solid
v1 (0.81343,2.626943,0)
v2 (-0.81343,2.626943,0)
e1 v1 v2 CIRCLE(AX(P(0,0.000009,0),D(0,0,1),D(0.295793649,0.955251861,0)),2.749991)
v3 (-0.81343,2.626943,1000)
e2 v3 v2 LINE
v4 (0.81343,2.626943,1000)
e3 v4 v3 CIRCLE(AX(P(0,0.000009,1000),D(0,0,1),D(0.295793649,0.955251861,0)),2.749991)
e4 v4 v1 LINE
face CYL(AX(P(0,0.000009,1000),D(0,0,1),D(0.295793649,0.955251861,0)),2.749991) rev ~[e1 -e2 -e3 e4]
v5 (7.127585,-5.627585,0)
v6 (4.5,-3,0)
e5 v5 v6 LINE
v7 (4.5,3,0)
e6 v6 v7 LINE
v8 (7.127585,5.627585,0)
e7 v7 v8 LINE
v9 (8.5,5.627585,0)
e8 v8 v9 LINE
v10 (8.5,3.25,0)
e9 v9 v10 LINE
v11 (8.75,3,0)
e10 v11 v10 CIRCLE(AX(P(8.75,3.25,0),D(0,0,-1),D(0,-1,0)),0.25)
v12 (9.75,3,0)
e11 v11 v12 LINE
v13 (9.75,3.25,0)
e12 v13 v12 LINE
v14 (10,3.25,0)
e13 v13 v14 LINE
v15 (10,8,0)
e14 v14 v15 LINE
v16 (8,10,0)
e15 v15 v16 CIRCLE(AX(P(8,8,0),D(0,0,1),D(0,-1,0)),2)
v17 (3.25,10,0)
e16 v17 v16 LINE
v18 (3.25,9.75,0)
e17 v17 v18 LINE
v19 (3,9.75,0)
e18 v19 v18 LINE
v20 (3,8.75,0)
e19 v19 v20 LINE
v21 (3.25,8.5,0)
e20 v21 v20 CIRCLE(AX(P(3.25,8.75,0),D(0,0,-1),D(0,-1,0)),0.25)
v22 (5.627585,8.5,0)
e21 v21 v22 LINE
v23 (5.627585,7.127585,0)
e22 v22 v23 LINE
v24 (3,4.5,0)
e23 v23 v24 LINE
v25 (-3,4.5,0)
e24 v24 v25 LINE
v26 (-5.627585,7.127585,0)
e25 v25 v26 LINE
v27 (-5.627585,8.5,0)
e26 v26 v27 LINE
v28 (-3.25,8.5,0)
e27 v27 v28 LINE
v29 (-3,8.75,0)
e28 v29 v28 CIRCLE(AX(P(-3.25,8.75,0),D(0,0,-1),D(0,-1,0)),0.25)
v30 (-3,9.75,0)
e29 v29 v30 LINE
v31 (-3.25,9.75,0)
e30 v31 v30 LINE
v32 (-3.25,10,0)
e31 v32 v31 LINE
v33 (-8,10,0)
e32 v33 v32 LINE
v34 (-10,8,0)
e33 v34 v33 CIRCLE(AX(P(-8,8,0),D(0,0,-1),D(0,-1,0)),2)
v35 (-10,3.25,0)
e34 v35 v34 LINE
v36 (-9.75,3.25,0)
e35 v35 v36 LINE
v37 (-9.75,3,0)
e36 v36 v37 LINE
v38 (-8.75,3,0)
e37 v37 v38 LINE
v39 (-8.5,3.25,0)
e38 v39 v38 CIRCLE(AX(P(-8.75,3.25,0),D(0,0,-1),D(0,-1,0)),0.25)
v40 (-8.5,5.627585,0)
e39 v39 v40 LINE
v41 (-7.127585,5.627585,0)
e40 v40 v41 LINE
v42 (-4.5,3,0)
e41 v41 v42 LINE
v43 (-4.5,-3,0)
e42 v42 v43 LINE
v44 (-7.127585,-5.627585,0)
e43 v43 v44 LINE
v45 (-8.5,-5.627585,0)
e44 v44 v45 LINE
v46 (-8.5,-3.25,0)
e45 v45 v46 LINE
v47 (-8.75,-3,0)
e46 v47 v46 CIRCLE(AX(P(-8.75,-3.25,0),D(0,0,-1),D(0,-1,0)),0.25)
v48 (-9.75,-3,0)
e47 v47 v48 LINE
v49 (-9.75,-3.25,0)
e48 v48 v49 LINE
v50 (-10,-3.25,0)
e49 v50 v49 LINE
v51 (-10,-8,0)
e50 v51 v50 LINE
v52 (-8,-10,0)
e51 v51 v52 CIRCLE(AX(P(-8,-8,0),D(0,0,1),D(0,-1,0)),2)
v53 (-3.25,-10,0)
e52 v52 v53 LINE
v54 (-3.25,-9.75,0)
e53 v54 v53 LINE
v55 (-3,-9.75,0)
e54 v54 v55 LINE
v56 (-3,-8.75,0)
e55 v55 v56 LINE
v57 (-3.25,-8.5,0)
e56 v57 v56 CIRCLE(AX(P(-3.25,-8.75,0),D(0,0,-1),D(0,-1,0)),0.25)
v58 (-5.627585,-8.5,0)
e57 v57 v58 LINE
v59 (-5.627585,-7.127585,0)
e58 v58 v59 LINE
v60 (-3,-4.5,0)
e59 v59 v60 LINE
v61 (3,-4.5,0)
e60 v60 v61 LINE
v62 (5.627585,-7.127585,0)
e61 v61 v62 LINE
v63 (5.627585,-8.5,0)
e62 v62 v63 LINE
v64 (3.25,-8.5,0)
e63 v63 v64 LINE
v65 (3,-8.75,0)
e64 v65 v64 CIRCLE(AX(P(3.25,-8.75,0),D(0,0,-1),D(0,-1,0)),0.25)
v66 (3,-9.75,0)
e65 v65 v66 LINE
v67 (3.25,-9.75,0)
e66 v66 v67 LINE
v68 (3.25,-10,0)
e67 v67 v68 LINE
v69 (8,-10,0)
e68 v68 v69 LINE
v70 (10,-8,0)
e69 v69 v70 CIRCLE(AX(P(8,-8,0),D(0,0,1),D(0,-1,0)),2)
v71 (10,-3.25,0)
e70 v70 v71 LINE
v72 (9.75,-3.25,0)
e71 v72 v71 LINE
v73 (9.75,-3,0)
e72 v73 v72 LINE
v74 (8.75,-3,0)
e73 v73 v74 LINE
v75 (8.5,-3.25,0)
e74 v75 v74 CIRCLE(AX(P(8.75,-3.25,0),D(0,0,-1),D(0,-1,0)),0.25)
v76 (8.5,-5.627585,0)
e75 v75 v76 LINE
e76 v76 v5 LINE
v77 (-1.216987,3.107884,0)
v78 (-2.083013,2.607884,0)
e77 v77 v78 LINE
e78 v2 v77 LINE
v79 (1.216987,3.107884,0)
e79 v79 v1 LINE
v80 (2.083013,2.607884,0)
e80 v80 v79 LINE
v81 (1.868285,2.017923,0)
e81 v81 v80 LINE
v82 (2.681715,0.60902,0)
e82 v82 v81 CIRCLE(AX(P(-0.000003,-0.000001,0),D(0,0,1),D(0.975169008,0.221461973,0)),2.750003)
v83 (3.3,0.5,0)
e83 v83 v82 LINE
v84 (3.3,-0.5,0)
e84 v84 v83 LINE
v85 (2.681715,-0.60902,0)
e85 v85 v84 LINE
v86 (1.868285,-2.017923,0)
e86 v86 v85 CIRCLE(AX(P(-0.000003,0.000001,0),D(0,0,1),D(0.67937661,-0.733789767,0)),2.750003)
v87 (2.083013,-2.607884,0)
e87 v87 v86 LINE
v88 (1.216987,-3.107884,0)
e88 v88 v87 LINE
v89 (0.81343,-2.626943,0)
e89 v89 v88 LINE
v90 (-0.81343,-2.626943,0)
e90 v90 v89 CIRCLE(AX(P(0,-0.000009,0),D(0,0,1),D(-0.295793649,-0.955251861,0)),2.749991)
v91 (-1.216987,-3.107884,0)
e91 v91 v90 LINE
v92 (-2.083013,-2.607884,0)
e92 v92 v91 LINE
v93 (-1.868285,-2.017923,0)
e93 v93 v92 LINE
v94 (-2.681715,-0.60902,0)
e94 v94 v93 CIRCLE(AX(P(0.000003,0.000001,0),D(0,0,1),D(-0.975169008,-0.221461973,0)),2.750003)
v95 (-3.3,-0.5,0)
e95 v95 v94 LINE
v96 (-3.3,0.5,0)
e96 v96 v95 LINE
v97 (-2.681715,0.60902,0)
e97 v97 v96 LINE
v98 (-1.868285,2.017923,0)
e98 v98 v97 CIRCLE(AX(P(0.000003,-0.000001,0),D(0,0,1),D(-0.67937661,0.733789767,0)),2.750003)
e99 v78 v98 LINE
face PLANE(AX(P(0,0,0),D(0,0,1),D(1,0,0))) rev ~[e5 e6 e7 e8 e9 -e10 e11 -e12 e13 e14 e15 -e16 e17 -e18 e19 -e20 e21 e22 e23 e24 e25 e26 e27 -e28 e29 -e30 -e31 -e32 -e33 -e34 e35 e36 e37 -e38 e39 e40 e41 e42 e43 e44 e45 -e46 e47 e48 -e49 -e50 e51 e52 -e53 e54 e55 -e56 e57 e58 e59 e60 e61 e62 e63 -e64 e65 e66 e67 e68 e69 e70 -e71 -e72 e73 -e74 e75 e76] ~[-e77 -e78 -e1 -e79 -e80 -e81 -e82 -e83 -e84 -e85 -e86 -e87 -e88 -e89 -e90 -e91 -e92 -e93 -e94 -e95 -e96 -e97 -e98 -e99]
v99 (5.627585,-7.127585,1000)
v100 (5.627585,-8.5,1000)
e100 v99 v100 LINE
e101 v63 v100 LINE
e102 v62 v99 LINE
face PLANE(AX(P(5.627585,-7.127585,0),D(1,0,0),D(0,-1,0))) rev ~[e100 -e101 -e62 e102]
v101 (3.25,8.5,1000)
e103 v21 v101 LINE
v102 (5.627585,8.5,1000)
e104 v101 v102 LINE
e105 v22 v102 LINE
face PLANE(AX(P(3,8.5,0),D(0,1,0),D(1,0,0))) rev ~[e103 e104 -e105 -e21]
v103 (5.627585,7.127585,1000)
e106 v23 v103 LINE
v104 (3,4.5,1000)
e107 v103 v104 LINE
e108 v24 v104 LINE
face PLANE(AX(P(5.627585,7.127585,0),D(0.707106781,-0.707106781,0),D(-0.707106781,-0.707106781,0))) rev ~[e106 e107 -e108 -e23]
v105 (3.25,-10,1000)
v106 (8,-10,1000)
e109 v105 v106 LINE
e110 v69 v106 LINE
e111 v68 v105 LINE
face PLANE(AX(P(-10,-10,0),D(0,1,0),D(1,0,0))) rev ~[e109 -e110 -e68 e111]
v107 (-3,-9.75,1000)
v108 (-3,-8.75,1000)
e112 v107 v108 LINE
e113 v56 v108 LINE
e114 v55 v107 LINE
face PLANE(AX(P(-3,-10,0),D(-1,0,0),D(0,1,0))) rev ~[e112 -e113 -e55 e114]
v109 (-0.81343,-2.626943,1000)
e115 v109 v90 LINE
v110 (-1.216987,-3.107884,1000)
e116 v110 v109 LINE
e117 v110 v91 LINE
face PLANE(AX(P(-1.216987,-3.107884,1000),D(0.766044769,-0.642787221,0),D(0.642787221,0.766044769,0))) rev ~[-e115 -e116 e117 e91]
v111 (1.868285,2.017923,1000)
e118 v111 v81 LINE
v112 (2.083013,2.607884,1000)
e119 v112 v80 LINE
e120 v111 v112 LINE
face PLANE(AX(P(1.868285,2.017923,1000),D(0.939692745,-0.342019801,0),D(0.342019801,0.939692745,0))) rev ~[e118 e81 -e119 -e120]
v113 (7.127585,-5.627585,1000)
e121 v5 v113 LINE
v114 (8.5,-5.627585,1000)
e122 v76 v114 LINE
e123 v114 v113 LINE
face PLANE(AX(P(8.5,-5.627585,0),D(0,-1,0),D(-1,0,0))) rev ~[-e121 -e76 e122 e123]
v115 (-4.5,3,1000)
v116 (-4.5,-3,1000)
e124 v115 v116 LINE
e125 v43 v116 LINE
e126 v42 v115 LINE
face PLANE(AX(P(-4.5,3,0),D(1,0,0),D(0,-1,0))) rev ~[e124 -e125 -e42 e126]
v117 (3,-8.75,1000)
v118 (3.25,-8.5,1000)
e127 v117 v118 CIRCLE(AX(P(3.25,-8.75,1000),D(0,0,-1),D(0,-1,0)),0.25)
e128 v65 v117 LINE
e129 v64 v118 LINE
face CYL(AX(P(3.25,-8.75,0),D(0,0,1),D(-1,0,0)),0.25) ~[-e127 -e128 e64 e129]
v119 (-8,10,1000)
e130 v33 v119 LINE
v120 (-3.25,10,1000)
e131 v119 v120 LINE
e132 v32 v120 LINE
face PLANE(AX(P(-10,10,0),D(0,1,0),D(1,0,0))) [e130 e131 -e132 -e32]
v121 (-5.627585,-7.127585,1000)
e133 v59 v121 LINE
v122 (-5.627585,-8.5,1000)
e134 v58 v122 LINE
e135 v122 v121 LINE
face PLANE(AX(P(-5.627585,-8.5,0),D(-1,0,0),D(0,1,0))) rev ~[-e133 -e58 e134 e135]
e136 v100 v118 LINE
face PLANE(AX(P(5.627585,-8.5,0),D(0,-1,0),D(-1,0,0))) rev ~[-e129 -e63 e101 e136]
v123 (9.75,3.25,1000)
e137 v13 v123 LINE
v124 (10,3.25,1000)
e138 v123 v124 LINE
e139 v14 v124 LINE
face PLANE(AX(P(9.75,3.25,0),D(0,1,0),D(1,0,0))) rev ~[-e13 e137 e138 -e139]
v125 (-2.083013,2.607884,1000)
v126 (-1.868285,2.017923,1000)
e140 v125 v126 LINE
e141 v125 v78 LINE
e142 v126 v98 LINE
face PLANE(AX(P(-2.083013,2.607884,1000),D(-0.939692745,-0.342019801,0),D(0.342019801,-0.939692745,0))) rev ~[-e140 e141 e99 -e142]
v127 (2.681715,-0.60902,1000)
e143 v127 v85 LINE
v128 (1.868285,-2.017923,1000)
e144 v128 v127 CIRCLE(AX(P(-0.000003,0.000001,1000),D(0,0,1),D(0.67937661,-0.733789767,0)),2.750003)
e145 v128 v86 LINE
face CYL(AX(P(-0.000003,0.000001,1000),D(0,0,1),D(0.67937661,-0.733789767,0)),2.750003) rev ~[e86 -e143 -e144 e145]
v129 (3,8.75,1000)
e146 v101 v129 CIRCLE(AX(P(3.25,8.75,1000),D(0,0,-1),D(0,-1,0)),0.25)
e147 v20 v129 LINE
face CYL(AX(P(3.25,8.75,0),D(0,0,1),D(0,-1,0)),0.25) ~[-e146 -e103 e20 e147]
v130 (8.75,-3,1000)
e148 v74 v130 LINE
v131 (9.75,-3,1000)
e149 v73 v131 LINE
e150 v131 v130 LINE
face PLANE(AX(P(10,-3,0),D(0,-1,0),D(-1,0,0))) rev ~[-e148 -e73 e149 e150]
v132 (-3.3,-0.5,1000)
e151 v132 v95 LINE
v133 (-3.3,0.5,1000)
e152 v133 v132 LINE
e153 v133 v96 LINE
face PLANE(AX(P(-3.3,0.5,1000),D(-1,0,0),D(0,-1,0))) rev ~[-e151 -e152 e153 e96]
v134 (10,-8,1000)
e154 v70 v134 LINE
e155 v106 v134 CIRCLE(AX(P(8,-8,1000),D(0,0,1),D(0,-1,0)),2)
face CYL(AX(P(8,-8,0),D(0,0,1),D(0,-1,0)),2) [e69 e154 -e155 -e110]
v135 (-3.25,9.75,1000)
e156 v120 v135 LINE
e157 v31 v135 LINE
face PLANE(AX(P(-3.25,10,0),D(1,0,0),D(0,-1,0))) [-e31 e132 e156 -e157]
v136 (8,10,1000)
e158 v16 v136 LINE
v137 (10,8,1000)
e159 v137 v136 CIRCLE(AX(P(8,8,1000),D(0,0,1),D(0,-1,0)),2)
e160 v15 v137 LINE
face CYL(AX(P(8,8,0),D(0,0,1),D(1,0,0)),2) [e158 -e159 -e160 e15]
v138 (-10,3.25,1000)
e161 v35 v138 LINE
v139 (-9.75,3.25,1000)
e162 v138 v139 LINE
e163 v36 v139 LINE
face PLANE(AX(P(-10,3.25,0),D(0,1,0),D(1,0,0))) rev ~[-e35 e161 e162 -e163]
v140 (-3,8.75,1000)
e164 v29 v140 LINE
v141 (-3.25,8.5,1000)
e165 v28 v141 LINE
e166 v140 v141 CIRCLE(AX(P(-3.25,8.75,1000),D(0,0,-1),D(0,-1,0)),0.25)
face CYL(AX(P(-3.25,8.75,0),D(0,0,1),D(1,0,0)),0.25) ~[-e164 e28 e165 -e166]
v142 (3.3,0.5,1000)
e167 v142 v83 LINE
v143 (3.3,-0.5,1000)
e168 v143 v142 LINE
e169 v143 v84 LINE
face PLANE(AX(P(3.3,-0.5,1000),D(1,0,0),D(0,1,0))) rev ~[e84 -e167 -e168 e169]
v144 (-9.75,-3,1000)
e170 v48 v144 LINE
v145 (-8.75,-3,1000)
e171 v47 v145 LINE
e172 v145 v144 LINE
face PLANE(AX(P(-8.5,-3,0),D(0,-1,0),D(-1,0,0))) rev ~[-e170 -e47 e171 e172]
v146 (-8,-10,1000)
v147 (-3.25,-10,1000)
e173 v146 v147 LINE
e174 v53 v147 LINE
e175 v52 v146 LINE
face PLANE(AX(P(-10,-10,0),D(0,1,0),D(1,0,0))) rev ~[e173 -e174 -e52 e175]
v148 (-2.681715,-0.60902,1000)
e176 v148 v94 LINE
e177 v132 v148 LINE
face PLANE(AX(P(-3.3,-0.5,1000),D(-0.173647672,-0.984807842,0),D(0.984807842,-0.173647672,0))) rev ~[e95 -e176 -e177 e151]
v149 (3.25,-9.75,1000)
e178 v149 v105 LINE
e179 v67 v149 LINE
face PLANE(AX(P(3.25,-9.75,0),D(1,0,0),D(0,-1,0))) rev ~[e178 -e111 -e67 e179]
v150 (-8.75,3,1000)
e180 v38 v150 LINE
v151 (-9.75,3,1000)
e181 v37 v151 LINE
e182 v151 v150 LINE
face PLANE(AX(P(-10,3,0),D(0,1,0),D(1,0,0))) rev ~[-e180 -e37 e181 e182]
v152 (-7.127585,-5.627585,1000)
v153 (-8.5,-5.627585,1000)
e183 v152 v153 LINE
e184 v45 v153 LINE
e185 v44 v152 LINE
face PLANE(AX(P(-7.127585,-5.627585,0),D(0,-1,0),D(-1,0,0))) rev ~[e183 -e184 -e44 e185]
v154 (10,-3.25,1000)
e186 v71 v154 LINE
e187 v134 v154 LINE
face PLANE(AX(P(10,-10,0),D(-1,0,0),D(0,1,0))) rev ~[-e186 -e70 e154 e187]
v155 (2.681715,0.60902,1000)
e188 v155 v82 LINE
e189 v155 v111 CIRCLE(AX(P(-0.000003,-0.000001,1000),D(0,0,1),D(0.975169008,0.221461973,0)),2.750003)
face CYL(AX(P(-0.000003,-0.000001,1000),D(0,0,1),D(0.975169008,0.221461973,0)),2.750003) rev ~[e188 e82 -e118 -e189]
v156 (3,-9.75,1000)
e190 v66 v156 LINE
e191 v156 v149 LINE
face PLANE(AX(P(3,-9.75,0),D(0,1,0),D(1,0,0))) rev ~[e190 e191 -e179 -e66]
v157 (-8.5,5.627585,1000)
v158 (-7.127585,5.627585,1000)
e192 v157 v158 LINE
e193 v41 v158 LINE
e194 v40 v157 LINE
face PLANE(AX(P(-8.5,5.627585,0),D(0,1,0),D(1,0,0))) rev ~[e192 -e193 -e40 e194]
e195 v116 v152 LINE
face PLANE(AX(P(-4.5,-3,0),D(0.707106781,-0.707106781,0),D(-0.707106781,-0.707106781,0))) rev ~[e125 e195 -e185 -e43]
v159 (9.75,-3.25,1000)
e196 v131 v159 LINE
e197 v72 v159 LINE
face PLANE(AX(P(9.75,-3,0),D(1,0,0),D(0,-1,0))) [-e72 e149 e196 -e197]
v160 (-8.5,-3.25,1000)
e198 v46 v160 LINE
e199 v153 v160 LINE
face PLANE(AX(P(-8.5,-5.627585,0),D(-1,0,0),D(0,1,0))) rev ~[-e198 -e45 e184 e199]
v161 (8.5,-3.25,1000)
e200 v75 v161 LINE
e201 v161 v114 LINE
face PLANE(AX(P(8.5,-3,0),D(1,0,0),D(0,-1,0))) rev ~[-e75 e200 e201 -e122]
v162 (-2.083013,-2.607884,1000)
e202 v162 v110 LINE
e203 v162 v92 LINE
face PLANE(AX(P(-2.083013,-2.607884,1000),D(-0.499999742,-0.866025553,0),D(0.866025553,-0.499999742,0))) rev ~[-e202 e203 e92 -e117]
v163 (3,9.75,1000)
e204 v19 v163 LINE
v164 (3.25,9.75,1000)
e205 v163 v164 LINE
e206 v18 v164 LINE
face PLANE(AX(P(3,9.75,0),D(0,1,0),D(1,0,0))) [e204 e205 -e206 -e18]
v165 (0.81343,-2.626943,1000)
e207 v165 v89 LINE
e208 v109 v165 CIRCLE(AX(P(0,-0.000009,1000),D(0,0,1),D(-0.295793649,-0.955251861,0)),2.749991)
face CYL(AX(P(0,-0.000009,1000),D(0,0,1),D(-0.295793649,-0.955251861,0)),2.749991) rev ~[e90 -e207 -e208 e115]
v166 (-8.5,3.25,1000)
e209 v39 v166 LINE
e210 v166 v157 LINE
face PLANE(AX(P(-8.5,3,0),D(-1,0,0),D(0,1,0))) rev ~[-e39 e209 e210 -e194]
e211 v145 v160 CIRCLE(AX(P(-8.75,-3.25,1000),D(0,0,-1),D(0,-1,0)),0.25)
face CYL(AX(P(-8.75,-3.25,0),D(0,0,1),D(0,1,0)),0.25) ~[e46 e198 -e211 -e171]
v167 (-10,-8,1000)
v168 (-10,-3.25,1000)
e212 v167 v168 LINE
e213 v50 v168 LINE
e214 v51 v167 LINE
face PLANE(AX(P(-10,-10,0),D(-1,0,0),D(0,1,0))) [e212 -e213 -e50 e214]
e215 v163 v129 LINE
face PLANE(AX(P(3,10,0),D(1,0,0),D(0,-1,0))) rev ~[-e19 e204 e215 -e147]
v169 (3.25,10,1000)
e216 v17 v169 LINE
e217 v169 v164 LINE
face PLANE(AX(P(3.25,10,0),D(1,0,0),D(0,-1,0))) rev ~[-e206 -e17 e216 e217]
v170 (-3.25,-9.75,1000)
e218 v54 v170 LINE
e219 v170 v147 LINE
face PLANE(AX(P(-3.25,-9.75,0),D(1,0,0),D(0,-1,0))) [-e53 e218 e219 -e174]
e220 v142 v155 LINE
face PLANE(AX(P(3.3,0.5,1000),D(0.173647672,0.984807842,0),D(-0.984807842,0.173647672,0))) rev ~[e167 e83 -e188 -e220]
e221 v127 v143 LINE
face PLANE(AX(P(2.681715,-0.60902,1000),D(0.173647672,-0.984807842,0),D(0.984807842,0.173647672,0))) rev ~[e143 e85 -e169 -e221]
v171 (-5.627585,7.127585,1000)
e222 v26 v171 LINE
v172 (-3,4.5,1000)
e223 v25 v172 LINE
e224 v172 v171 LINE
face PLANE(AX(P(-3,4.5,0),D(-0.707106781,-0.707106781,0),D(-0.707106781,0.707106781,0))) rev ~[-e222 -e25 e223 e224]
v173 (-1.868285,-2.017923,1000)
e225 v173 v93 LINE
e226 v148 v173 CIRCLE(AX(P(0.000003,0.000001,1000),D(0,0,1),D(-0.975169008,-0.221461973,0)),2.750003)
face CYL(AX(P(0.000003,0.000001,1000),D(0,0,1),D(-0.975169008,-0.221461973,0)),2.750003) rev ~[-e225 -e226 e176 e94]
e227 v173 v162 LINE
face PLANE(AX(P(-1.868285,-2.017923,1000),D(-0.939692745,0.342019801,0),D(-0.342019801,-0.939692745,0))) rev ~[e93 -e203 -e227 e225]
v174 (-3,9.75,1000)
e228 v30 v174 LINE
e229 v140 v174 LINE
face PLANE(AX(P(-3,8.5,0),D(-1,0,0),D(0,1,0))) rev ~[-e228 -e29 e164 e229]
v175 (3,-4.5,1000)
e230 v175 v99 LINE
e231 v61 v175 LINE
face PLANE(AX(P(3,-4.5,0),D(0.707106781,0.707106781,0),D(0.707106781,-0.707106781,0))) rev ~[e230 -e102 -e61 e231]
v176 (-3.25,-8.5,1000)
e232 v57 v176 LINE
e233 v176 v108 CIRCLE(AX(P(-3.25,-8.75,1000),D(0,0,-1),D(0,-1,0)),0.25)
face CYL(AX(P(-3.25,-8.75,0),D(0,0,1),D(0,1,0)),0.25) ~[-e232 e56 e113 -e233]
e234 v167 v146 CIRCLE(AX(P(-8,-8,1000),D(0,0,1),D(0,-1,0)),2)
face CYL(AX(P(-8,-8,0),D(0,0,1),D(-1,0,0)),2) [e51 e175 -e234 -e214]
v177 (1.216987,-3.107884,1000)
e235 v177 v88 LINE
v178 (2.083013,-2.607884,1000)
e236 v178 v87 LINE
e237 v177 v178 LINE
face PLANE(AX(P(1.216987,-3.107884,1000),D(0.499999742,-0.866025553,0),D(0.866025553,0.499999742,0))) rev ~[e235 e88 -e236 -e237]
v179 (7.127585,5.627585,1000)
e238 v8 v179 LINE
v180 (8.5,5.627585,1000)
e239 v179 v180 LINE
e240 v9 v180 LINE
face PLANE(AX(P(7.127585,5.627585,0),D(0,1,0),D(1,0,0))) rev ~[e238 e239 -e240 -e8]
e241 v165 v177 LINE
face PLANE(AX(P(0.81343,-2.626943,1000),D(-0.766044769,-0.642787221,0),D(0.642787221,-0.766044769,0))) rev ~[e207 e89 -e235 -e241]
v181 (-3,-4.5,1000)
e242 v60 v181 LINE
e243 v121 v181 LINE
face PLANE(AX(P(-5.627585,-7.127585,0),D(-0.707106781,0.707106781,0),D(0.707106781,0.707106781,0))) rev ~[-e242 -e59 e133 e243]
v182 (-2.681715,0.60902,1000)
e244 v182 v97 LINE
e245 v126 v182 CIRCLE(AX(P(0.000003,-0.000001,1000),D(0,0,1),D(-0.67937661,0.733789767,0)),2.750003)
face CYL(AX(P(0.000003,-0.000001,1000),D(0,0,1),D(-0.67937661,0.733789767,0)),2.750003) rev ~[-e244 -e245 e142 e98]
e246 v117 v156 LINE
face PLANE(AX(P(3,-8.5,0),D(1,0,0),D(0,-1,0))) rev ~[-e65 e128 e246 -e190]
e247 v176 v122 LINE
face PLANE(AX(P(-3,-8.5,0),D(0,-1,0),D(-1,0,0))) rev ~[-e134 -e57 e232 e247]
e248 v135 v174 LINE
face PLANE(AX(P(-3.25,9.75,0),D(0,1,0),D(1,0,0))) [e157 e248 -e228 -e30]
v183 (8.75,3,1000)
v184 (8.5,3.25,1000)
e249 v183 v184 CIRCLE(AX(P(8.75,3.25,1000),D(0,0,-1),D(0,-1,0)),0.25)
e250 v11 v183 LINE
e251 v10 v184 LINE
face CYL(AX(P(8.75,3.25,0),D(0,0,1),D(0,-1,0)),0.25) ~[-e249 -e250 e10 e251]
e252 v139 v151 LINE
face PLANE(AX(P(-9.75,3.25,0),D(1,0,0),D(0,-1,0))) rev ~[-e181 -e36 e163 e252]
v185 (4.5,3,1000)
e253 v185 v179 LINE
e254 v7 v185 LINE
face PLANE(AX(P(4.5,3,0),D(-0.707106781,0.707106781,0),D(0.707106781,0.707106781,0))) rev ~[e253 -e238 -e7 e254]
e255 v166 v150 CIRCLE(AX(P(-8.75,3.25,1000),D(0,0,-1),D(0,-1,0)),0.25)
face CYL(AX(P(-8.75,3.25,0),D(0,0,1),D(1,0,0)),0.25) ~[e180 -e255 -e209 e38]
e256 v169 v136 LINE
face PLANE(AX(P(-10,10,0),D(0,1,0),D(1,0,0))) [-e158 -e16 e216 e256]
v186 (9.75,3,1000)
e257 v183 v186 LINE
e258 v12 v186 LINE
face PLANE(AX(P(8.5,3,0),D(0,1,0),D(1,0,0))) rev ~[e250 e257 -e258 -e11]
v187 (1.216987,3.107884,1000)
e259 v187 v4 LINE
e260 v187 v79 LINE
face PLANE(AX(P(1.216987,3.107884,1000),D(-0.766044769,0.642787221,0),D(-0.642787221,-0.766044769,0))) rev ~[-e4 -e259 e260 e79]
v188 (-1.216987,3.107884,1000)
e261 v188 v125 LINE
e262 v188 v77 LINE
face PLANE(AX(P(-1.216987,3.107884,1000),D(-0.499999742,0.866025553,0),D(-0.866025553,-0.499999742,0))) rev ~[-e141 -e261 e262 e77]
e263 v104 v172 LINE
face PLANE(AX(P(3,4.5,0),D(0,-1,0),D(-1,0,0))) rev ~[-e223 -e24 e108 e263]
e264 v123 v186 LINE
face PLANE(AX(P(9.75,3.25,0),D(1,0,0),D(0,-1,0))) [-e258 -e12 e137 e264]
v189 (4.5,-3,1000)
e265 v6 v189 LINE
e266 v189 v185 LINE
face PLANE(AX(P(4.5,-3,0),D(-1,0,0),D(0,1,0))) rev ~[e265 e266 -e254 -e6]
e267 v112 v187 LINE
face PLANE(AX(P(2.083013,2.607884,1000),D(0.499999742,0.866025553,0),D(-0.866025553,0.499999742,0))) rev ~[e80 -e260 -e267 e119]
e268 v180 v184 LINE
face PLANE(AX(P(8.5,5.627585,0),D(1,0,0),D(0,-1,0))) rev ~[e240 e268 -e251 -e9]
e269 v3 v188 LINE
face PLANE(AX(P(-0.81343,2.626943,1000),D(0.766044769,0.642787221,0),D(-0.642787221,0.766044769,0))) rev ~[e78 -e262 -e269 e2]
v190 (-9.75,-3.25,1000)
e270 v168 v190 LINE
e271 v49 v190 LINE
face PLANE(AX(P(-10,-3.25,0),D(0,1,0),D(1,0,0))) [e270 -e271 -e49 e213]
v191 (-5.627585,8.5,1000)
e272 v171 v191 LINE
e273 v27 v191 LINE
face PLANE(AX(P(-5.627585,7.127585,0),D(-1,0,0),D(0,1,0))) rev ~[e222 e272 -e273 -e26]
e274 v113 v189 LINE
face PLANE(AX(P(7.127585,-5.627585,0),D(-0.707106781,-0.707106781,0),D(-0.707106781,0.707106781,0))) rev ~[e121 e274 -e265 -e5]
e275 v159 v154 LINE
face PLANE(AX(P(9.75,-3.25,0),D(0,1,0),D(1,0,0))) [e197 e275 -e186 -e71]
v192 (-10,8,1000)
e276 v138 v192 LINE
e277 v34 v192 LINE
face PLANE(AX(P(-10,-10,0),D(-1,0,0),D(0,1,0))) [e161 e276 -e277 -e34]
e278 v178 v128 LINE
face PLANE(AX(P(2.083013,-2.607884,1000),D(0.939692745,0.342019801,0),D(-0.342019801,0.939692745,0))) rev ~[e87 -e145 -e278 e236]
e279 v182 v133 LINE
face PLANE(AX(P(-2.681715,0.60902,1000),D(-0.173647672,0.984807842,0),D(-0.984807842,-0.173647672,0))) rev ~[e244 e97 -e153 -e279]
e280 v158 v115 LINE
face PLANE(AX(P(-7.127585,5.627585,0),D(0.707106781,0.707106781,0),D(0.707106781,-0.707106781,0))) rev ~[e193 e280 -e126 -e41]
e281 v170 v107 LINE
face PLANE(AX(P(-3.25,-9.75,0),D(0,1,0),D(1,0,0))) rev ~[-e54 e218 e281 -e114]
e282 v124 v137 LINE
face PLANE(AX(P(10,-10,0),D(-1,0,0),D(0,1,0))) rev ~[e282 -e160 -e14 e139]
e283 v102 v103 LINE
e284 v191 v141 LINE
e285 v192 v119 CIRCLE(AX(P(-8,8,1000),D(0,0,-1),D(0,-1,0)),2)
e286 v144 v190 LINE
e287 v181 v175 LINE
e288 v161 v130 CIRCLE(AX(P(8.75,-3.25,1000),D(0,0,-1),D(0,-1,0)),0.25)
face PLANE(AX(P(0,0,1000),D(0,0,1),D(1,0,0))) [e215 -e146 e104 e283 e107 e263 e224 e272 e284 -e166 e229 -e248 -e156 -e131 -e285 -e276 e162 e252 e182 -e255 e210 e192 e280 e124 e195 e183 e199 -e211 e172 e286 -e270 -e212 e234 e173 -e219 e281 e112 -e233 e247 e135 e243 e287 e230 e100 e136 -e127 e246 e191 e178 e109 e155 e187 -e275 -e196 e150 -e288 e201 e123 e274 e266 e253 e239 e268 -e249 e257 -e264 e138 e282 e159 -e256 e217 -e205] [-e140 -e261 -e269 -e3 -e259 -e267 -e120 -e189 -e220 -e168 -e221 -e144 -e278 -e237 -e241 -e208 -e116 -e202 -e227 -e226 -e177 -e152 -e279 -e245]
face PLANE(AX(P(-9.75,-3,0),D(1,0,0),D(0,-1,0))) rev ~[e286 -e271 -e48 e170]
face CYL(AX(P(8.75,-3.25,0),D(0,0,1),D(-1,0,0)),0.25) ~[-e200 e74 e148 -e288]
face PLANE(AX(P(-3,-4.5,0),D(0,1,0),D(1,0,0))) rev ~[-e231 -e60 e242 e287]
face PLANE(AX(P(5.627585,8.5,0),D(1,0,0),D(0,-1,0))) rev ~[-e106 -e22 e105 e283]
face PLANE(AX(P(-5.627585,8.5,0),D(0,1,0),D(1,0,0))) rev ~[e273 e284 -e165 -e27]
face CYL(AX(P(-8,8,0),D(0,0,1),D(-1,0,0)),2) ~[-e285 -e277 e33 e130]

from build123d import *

# Parameters (mm, degrees)
F0_W     = 20
F0_H     = 20
F1_DEPTH = 1000
F2_R     = 2
F4_DEPTH = 1000
F6_DEPTH = 1000
F7_W     = 0.25
F7_H     = 0.25
F8_DEPTH = 1000
F9_R     = 0.25


with BuildPart() as f1:
    # F0 (on Top) → F1 (new body)
    with BuildSketch(Plane.XY):
        Rectangle(F0_W, F0_H)
    extrude(amount=F1_DEPTH)

    # F2
    f2_edges = [f1.edges().sort_by_distance(p)[0] for p in [
        (10, 10, 500),
        (-10, 10, 500),
        (-10, -10, 500),
        (10, -10, 500),
    ]]
    fillet(f2_edges, radius=F2_R)

    # F3 (on face) → F4 (cut, through all)
    with BuildSketch(Plane(origin=(0, 0, 0), x_dir=(1, 0, 0), z_dir=(0, 0, -1))):
        Polygon((3, 10), (-3, 10), (-3, 8.5), (-5.627585, 8.5), (-5.627585, 7.127585), (-3, 4.5), (0, 4.5), (3, 4.5), (5.627585, 7.127585), (5.627585, 8.5), (3, 8.5), align=None)
        Polygon((10, -3), (10, 3), (8.5, 3), (8.5, 5.627585), (7.127585, 5.627585), (4.5, 3), (4.5, 0), (4.5, -3), (7.127585, -5.627585), (8.5, -5.627585), (8.5, -3), align=None)
        Polygon((-3, -8.5), (-3, -10), (3, -10), (3, -8.5), (5.627585, -8.5), (5.627585, -7.127585), (3, -4.5), (0, -4.5), (-3, -4.5), (-5.627585, -7.127585), (-5.627585, -8.5), align=None)
        Polygon((-8.5, 3), (-10, 3), (-10, -3), (-8.5, -3), (-8.5, -5.627585), (-7.127585, -5.627585), (-4.5, -3), (-4.5, 0), (-4.5, 3), (-7.127585, 5.627585), (-8.5, 5.627585), align=None)
    extrude(amount=-F4_DEPTH, mode=Mode.SUBTRACT)

    # F5 (on face) → F6 (cut, through all)
    with BuildSketch(Plane.XY.offset(1000)):
        with BuildLine():
            Line((-3.3, -0.5), (-2.681715, -0.60902))
            ThreePointArc((-2.681715, -0.60902), (-2.38157, -1.375), (-1.868285, -2.017923))
            Line((-1.868285, -2.017923), (-2.083013, -2.607884))
            Line((-2.083013, -2.607884), (-1.65, -2.857884))
            Line((-1.65, -2.857884), (-1.216987, -3.107884))
            Line((-1.216987, -3.107884), (-0.81343, -2.626943))
            ThreePointArc((-0.81343, -2.626943), (0, -2.75), (0.81343, -2.626943))
            Line((0.81343, -2.626943), (1.216987, -3.107884))
            Line((1.216987, -3.107884), (1.65, -2.857884))
            Line((1.65, -2.857884), (2.083013, -2.607884))
            Line((2.083013, -2.607884), (1.868285, -2.017923))
            ThreePointArc((1.868285, -2.017923), (2.38157, -1.375), (2.681715, -0.60902))
            Line((2.681715, -0.60902), (3.3, -0.5))
            Line((3.3, -0.5), (3.3, 0))
            Line((3.3, 0), (3.3, 0.5))
            Line((3.3, 0.5), (2.681715, 0.60902))
            ThreePointArc((2.681715, 0.60902), (2.38157, 1.375), (1.868285, 2.017923))
            Line((1.868285, 2.017923), (2.083013, 2.607884))
            Line((2.083013, 2.607884), (1.65, 2.857884))
            Line((1.65, 2.857884), (1.216987, 3.107884))
            Line((1.216987, 3.107884), (0.81343, 2.626943))
            ThreePointArc((0.81343, 2.626943), (0, 2.75), (-0.81343, 2.626943))
            Line((-0.81343, 2.626943), (-1.216987, 3.107884))
            Line((-1.216987, 3.107884), (-1.65, 2.857884))
            Line((-1.65, 2.857884), (-2.083013, 2.607884))
            Line((-2.083013, 2.607884), (-1.868285, 2.017923))
            ThreePointArc((-1.868285, 2.017923), (-2.38157, 1.375), (-2.681715, 0.60902))
            Line((-2.681715, 0.60902), (-3.3, 0.5))
            Line((-3.3, 0.5), (-3.3, 0))
            Line((-3.3, 0), (-3.3, -0.5))
        make_face()
    extrude(amount=-F6_DEPTH, mode=Mode.SUBTRACT)

    # F7 (on face) → F8 (cut, through all)
    with BuildSketch(Plane(origin=(0, 0, 0), x_dir=(1, 0, 0), z_dir=(0, 0, -1))):
        with Locations((-9.875, 3.125)):
            Rectangle(F7_W, F7_H)
        with Locations((-3.125, 9.875)):
            Rectangle(F7_W, F7_H)
        with Locations((3.125, 9.875)):
            Rectangle(F7_W, F7_H)
        with Locations((9.875, 3.125)):
            Rectangle(F7_W, F7_H)
        with Locations((-9.875, -3.125)):
            Rectangle(F7_W, F7_H)
        with Locations((9.875, -3.125)):
            Rectangle(F7_W, F7_H)
        with Locations((-3.125, -9.875)):
            Rectangle(F7_W, F7_H)
        with Locations((3.125, -9.875)):
            Rectangle(F7_W, F7_H)
    extrude(amount=-F8_DEPTH, mode=Mode.SUBTRACT)

    # F9
    f9_edges = [f1.edges().sort_by_distance(p)[0] for p in [
        (-8.5, 3, 500),
        (-8.5, -3, 500),
        (-3, -8.5, 500),
        (3, -8.5, 500),
        (8.5, -3, 500),
        (-3, 8.5, 500),
        (3, 8.5, 500),
        (8.5, 3, 500),
    ]]
    fillet(f9_edges, radius=F9_R)


solid = f1.part
